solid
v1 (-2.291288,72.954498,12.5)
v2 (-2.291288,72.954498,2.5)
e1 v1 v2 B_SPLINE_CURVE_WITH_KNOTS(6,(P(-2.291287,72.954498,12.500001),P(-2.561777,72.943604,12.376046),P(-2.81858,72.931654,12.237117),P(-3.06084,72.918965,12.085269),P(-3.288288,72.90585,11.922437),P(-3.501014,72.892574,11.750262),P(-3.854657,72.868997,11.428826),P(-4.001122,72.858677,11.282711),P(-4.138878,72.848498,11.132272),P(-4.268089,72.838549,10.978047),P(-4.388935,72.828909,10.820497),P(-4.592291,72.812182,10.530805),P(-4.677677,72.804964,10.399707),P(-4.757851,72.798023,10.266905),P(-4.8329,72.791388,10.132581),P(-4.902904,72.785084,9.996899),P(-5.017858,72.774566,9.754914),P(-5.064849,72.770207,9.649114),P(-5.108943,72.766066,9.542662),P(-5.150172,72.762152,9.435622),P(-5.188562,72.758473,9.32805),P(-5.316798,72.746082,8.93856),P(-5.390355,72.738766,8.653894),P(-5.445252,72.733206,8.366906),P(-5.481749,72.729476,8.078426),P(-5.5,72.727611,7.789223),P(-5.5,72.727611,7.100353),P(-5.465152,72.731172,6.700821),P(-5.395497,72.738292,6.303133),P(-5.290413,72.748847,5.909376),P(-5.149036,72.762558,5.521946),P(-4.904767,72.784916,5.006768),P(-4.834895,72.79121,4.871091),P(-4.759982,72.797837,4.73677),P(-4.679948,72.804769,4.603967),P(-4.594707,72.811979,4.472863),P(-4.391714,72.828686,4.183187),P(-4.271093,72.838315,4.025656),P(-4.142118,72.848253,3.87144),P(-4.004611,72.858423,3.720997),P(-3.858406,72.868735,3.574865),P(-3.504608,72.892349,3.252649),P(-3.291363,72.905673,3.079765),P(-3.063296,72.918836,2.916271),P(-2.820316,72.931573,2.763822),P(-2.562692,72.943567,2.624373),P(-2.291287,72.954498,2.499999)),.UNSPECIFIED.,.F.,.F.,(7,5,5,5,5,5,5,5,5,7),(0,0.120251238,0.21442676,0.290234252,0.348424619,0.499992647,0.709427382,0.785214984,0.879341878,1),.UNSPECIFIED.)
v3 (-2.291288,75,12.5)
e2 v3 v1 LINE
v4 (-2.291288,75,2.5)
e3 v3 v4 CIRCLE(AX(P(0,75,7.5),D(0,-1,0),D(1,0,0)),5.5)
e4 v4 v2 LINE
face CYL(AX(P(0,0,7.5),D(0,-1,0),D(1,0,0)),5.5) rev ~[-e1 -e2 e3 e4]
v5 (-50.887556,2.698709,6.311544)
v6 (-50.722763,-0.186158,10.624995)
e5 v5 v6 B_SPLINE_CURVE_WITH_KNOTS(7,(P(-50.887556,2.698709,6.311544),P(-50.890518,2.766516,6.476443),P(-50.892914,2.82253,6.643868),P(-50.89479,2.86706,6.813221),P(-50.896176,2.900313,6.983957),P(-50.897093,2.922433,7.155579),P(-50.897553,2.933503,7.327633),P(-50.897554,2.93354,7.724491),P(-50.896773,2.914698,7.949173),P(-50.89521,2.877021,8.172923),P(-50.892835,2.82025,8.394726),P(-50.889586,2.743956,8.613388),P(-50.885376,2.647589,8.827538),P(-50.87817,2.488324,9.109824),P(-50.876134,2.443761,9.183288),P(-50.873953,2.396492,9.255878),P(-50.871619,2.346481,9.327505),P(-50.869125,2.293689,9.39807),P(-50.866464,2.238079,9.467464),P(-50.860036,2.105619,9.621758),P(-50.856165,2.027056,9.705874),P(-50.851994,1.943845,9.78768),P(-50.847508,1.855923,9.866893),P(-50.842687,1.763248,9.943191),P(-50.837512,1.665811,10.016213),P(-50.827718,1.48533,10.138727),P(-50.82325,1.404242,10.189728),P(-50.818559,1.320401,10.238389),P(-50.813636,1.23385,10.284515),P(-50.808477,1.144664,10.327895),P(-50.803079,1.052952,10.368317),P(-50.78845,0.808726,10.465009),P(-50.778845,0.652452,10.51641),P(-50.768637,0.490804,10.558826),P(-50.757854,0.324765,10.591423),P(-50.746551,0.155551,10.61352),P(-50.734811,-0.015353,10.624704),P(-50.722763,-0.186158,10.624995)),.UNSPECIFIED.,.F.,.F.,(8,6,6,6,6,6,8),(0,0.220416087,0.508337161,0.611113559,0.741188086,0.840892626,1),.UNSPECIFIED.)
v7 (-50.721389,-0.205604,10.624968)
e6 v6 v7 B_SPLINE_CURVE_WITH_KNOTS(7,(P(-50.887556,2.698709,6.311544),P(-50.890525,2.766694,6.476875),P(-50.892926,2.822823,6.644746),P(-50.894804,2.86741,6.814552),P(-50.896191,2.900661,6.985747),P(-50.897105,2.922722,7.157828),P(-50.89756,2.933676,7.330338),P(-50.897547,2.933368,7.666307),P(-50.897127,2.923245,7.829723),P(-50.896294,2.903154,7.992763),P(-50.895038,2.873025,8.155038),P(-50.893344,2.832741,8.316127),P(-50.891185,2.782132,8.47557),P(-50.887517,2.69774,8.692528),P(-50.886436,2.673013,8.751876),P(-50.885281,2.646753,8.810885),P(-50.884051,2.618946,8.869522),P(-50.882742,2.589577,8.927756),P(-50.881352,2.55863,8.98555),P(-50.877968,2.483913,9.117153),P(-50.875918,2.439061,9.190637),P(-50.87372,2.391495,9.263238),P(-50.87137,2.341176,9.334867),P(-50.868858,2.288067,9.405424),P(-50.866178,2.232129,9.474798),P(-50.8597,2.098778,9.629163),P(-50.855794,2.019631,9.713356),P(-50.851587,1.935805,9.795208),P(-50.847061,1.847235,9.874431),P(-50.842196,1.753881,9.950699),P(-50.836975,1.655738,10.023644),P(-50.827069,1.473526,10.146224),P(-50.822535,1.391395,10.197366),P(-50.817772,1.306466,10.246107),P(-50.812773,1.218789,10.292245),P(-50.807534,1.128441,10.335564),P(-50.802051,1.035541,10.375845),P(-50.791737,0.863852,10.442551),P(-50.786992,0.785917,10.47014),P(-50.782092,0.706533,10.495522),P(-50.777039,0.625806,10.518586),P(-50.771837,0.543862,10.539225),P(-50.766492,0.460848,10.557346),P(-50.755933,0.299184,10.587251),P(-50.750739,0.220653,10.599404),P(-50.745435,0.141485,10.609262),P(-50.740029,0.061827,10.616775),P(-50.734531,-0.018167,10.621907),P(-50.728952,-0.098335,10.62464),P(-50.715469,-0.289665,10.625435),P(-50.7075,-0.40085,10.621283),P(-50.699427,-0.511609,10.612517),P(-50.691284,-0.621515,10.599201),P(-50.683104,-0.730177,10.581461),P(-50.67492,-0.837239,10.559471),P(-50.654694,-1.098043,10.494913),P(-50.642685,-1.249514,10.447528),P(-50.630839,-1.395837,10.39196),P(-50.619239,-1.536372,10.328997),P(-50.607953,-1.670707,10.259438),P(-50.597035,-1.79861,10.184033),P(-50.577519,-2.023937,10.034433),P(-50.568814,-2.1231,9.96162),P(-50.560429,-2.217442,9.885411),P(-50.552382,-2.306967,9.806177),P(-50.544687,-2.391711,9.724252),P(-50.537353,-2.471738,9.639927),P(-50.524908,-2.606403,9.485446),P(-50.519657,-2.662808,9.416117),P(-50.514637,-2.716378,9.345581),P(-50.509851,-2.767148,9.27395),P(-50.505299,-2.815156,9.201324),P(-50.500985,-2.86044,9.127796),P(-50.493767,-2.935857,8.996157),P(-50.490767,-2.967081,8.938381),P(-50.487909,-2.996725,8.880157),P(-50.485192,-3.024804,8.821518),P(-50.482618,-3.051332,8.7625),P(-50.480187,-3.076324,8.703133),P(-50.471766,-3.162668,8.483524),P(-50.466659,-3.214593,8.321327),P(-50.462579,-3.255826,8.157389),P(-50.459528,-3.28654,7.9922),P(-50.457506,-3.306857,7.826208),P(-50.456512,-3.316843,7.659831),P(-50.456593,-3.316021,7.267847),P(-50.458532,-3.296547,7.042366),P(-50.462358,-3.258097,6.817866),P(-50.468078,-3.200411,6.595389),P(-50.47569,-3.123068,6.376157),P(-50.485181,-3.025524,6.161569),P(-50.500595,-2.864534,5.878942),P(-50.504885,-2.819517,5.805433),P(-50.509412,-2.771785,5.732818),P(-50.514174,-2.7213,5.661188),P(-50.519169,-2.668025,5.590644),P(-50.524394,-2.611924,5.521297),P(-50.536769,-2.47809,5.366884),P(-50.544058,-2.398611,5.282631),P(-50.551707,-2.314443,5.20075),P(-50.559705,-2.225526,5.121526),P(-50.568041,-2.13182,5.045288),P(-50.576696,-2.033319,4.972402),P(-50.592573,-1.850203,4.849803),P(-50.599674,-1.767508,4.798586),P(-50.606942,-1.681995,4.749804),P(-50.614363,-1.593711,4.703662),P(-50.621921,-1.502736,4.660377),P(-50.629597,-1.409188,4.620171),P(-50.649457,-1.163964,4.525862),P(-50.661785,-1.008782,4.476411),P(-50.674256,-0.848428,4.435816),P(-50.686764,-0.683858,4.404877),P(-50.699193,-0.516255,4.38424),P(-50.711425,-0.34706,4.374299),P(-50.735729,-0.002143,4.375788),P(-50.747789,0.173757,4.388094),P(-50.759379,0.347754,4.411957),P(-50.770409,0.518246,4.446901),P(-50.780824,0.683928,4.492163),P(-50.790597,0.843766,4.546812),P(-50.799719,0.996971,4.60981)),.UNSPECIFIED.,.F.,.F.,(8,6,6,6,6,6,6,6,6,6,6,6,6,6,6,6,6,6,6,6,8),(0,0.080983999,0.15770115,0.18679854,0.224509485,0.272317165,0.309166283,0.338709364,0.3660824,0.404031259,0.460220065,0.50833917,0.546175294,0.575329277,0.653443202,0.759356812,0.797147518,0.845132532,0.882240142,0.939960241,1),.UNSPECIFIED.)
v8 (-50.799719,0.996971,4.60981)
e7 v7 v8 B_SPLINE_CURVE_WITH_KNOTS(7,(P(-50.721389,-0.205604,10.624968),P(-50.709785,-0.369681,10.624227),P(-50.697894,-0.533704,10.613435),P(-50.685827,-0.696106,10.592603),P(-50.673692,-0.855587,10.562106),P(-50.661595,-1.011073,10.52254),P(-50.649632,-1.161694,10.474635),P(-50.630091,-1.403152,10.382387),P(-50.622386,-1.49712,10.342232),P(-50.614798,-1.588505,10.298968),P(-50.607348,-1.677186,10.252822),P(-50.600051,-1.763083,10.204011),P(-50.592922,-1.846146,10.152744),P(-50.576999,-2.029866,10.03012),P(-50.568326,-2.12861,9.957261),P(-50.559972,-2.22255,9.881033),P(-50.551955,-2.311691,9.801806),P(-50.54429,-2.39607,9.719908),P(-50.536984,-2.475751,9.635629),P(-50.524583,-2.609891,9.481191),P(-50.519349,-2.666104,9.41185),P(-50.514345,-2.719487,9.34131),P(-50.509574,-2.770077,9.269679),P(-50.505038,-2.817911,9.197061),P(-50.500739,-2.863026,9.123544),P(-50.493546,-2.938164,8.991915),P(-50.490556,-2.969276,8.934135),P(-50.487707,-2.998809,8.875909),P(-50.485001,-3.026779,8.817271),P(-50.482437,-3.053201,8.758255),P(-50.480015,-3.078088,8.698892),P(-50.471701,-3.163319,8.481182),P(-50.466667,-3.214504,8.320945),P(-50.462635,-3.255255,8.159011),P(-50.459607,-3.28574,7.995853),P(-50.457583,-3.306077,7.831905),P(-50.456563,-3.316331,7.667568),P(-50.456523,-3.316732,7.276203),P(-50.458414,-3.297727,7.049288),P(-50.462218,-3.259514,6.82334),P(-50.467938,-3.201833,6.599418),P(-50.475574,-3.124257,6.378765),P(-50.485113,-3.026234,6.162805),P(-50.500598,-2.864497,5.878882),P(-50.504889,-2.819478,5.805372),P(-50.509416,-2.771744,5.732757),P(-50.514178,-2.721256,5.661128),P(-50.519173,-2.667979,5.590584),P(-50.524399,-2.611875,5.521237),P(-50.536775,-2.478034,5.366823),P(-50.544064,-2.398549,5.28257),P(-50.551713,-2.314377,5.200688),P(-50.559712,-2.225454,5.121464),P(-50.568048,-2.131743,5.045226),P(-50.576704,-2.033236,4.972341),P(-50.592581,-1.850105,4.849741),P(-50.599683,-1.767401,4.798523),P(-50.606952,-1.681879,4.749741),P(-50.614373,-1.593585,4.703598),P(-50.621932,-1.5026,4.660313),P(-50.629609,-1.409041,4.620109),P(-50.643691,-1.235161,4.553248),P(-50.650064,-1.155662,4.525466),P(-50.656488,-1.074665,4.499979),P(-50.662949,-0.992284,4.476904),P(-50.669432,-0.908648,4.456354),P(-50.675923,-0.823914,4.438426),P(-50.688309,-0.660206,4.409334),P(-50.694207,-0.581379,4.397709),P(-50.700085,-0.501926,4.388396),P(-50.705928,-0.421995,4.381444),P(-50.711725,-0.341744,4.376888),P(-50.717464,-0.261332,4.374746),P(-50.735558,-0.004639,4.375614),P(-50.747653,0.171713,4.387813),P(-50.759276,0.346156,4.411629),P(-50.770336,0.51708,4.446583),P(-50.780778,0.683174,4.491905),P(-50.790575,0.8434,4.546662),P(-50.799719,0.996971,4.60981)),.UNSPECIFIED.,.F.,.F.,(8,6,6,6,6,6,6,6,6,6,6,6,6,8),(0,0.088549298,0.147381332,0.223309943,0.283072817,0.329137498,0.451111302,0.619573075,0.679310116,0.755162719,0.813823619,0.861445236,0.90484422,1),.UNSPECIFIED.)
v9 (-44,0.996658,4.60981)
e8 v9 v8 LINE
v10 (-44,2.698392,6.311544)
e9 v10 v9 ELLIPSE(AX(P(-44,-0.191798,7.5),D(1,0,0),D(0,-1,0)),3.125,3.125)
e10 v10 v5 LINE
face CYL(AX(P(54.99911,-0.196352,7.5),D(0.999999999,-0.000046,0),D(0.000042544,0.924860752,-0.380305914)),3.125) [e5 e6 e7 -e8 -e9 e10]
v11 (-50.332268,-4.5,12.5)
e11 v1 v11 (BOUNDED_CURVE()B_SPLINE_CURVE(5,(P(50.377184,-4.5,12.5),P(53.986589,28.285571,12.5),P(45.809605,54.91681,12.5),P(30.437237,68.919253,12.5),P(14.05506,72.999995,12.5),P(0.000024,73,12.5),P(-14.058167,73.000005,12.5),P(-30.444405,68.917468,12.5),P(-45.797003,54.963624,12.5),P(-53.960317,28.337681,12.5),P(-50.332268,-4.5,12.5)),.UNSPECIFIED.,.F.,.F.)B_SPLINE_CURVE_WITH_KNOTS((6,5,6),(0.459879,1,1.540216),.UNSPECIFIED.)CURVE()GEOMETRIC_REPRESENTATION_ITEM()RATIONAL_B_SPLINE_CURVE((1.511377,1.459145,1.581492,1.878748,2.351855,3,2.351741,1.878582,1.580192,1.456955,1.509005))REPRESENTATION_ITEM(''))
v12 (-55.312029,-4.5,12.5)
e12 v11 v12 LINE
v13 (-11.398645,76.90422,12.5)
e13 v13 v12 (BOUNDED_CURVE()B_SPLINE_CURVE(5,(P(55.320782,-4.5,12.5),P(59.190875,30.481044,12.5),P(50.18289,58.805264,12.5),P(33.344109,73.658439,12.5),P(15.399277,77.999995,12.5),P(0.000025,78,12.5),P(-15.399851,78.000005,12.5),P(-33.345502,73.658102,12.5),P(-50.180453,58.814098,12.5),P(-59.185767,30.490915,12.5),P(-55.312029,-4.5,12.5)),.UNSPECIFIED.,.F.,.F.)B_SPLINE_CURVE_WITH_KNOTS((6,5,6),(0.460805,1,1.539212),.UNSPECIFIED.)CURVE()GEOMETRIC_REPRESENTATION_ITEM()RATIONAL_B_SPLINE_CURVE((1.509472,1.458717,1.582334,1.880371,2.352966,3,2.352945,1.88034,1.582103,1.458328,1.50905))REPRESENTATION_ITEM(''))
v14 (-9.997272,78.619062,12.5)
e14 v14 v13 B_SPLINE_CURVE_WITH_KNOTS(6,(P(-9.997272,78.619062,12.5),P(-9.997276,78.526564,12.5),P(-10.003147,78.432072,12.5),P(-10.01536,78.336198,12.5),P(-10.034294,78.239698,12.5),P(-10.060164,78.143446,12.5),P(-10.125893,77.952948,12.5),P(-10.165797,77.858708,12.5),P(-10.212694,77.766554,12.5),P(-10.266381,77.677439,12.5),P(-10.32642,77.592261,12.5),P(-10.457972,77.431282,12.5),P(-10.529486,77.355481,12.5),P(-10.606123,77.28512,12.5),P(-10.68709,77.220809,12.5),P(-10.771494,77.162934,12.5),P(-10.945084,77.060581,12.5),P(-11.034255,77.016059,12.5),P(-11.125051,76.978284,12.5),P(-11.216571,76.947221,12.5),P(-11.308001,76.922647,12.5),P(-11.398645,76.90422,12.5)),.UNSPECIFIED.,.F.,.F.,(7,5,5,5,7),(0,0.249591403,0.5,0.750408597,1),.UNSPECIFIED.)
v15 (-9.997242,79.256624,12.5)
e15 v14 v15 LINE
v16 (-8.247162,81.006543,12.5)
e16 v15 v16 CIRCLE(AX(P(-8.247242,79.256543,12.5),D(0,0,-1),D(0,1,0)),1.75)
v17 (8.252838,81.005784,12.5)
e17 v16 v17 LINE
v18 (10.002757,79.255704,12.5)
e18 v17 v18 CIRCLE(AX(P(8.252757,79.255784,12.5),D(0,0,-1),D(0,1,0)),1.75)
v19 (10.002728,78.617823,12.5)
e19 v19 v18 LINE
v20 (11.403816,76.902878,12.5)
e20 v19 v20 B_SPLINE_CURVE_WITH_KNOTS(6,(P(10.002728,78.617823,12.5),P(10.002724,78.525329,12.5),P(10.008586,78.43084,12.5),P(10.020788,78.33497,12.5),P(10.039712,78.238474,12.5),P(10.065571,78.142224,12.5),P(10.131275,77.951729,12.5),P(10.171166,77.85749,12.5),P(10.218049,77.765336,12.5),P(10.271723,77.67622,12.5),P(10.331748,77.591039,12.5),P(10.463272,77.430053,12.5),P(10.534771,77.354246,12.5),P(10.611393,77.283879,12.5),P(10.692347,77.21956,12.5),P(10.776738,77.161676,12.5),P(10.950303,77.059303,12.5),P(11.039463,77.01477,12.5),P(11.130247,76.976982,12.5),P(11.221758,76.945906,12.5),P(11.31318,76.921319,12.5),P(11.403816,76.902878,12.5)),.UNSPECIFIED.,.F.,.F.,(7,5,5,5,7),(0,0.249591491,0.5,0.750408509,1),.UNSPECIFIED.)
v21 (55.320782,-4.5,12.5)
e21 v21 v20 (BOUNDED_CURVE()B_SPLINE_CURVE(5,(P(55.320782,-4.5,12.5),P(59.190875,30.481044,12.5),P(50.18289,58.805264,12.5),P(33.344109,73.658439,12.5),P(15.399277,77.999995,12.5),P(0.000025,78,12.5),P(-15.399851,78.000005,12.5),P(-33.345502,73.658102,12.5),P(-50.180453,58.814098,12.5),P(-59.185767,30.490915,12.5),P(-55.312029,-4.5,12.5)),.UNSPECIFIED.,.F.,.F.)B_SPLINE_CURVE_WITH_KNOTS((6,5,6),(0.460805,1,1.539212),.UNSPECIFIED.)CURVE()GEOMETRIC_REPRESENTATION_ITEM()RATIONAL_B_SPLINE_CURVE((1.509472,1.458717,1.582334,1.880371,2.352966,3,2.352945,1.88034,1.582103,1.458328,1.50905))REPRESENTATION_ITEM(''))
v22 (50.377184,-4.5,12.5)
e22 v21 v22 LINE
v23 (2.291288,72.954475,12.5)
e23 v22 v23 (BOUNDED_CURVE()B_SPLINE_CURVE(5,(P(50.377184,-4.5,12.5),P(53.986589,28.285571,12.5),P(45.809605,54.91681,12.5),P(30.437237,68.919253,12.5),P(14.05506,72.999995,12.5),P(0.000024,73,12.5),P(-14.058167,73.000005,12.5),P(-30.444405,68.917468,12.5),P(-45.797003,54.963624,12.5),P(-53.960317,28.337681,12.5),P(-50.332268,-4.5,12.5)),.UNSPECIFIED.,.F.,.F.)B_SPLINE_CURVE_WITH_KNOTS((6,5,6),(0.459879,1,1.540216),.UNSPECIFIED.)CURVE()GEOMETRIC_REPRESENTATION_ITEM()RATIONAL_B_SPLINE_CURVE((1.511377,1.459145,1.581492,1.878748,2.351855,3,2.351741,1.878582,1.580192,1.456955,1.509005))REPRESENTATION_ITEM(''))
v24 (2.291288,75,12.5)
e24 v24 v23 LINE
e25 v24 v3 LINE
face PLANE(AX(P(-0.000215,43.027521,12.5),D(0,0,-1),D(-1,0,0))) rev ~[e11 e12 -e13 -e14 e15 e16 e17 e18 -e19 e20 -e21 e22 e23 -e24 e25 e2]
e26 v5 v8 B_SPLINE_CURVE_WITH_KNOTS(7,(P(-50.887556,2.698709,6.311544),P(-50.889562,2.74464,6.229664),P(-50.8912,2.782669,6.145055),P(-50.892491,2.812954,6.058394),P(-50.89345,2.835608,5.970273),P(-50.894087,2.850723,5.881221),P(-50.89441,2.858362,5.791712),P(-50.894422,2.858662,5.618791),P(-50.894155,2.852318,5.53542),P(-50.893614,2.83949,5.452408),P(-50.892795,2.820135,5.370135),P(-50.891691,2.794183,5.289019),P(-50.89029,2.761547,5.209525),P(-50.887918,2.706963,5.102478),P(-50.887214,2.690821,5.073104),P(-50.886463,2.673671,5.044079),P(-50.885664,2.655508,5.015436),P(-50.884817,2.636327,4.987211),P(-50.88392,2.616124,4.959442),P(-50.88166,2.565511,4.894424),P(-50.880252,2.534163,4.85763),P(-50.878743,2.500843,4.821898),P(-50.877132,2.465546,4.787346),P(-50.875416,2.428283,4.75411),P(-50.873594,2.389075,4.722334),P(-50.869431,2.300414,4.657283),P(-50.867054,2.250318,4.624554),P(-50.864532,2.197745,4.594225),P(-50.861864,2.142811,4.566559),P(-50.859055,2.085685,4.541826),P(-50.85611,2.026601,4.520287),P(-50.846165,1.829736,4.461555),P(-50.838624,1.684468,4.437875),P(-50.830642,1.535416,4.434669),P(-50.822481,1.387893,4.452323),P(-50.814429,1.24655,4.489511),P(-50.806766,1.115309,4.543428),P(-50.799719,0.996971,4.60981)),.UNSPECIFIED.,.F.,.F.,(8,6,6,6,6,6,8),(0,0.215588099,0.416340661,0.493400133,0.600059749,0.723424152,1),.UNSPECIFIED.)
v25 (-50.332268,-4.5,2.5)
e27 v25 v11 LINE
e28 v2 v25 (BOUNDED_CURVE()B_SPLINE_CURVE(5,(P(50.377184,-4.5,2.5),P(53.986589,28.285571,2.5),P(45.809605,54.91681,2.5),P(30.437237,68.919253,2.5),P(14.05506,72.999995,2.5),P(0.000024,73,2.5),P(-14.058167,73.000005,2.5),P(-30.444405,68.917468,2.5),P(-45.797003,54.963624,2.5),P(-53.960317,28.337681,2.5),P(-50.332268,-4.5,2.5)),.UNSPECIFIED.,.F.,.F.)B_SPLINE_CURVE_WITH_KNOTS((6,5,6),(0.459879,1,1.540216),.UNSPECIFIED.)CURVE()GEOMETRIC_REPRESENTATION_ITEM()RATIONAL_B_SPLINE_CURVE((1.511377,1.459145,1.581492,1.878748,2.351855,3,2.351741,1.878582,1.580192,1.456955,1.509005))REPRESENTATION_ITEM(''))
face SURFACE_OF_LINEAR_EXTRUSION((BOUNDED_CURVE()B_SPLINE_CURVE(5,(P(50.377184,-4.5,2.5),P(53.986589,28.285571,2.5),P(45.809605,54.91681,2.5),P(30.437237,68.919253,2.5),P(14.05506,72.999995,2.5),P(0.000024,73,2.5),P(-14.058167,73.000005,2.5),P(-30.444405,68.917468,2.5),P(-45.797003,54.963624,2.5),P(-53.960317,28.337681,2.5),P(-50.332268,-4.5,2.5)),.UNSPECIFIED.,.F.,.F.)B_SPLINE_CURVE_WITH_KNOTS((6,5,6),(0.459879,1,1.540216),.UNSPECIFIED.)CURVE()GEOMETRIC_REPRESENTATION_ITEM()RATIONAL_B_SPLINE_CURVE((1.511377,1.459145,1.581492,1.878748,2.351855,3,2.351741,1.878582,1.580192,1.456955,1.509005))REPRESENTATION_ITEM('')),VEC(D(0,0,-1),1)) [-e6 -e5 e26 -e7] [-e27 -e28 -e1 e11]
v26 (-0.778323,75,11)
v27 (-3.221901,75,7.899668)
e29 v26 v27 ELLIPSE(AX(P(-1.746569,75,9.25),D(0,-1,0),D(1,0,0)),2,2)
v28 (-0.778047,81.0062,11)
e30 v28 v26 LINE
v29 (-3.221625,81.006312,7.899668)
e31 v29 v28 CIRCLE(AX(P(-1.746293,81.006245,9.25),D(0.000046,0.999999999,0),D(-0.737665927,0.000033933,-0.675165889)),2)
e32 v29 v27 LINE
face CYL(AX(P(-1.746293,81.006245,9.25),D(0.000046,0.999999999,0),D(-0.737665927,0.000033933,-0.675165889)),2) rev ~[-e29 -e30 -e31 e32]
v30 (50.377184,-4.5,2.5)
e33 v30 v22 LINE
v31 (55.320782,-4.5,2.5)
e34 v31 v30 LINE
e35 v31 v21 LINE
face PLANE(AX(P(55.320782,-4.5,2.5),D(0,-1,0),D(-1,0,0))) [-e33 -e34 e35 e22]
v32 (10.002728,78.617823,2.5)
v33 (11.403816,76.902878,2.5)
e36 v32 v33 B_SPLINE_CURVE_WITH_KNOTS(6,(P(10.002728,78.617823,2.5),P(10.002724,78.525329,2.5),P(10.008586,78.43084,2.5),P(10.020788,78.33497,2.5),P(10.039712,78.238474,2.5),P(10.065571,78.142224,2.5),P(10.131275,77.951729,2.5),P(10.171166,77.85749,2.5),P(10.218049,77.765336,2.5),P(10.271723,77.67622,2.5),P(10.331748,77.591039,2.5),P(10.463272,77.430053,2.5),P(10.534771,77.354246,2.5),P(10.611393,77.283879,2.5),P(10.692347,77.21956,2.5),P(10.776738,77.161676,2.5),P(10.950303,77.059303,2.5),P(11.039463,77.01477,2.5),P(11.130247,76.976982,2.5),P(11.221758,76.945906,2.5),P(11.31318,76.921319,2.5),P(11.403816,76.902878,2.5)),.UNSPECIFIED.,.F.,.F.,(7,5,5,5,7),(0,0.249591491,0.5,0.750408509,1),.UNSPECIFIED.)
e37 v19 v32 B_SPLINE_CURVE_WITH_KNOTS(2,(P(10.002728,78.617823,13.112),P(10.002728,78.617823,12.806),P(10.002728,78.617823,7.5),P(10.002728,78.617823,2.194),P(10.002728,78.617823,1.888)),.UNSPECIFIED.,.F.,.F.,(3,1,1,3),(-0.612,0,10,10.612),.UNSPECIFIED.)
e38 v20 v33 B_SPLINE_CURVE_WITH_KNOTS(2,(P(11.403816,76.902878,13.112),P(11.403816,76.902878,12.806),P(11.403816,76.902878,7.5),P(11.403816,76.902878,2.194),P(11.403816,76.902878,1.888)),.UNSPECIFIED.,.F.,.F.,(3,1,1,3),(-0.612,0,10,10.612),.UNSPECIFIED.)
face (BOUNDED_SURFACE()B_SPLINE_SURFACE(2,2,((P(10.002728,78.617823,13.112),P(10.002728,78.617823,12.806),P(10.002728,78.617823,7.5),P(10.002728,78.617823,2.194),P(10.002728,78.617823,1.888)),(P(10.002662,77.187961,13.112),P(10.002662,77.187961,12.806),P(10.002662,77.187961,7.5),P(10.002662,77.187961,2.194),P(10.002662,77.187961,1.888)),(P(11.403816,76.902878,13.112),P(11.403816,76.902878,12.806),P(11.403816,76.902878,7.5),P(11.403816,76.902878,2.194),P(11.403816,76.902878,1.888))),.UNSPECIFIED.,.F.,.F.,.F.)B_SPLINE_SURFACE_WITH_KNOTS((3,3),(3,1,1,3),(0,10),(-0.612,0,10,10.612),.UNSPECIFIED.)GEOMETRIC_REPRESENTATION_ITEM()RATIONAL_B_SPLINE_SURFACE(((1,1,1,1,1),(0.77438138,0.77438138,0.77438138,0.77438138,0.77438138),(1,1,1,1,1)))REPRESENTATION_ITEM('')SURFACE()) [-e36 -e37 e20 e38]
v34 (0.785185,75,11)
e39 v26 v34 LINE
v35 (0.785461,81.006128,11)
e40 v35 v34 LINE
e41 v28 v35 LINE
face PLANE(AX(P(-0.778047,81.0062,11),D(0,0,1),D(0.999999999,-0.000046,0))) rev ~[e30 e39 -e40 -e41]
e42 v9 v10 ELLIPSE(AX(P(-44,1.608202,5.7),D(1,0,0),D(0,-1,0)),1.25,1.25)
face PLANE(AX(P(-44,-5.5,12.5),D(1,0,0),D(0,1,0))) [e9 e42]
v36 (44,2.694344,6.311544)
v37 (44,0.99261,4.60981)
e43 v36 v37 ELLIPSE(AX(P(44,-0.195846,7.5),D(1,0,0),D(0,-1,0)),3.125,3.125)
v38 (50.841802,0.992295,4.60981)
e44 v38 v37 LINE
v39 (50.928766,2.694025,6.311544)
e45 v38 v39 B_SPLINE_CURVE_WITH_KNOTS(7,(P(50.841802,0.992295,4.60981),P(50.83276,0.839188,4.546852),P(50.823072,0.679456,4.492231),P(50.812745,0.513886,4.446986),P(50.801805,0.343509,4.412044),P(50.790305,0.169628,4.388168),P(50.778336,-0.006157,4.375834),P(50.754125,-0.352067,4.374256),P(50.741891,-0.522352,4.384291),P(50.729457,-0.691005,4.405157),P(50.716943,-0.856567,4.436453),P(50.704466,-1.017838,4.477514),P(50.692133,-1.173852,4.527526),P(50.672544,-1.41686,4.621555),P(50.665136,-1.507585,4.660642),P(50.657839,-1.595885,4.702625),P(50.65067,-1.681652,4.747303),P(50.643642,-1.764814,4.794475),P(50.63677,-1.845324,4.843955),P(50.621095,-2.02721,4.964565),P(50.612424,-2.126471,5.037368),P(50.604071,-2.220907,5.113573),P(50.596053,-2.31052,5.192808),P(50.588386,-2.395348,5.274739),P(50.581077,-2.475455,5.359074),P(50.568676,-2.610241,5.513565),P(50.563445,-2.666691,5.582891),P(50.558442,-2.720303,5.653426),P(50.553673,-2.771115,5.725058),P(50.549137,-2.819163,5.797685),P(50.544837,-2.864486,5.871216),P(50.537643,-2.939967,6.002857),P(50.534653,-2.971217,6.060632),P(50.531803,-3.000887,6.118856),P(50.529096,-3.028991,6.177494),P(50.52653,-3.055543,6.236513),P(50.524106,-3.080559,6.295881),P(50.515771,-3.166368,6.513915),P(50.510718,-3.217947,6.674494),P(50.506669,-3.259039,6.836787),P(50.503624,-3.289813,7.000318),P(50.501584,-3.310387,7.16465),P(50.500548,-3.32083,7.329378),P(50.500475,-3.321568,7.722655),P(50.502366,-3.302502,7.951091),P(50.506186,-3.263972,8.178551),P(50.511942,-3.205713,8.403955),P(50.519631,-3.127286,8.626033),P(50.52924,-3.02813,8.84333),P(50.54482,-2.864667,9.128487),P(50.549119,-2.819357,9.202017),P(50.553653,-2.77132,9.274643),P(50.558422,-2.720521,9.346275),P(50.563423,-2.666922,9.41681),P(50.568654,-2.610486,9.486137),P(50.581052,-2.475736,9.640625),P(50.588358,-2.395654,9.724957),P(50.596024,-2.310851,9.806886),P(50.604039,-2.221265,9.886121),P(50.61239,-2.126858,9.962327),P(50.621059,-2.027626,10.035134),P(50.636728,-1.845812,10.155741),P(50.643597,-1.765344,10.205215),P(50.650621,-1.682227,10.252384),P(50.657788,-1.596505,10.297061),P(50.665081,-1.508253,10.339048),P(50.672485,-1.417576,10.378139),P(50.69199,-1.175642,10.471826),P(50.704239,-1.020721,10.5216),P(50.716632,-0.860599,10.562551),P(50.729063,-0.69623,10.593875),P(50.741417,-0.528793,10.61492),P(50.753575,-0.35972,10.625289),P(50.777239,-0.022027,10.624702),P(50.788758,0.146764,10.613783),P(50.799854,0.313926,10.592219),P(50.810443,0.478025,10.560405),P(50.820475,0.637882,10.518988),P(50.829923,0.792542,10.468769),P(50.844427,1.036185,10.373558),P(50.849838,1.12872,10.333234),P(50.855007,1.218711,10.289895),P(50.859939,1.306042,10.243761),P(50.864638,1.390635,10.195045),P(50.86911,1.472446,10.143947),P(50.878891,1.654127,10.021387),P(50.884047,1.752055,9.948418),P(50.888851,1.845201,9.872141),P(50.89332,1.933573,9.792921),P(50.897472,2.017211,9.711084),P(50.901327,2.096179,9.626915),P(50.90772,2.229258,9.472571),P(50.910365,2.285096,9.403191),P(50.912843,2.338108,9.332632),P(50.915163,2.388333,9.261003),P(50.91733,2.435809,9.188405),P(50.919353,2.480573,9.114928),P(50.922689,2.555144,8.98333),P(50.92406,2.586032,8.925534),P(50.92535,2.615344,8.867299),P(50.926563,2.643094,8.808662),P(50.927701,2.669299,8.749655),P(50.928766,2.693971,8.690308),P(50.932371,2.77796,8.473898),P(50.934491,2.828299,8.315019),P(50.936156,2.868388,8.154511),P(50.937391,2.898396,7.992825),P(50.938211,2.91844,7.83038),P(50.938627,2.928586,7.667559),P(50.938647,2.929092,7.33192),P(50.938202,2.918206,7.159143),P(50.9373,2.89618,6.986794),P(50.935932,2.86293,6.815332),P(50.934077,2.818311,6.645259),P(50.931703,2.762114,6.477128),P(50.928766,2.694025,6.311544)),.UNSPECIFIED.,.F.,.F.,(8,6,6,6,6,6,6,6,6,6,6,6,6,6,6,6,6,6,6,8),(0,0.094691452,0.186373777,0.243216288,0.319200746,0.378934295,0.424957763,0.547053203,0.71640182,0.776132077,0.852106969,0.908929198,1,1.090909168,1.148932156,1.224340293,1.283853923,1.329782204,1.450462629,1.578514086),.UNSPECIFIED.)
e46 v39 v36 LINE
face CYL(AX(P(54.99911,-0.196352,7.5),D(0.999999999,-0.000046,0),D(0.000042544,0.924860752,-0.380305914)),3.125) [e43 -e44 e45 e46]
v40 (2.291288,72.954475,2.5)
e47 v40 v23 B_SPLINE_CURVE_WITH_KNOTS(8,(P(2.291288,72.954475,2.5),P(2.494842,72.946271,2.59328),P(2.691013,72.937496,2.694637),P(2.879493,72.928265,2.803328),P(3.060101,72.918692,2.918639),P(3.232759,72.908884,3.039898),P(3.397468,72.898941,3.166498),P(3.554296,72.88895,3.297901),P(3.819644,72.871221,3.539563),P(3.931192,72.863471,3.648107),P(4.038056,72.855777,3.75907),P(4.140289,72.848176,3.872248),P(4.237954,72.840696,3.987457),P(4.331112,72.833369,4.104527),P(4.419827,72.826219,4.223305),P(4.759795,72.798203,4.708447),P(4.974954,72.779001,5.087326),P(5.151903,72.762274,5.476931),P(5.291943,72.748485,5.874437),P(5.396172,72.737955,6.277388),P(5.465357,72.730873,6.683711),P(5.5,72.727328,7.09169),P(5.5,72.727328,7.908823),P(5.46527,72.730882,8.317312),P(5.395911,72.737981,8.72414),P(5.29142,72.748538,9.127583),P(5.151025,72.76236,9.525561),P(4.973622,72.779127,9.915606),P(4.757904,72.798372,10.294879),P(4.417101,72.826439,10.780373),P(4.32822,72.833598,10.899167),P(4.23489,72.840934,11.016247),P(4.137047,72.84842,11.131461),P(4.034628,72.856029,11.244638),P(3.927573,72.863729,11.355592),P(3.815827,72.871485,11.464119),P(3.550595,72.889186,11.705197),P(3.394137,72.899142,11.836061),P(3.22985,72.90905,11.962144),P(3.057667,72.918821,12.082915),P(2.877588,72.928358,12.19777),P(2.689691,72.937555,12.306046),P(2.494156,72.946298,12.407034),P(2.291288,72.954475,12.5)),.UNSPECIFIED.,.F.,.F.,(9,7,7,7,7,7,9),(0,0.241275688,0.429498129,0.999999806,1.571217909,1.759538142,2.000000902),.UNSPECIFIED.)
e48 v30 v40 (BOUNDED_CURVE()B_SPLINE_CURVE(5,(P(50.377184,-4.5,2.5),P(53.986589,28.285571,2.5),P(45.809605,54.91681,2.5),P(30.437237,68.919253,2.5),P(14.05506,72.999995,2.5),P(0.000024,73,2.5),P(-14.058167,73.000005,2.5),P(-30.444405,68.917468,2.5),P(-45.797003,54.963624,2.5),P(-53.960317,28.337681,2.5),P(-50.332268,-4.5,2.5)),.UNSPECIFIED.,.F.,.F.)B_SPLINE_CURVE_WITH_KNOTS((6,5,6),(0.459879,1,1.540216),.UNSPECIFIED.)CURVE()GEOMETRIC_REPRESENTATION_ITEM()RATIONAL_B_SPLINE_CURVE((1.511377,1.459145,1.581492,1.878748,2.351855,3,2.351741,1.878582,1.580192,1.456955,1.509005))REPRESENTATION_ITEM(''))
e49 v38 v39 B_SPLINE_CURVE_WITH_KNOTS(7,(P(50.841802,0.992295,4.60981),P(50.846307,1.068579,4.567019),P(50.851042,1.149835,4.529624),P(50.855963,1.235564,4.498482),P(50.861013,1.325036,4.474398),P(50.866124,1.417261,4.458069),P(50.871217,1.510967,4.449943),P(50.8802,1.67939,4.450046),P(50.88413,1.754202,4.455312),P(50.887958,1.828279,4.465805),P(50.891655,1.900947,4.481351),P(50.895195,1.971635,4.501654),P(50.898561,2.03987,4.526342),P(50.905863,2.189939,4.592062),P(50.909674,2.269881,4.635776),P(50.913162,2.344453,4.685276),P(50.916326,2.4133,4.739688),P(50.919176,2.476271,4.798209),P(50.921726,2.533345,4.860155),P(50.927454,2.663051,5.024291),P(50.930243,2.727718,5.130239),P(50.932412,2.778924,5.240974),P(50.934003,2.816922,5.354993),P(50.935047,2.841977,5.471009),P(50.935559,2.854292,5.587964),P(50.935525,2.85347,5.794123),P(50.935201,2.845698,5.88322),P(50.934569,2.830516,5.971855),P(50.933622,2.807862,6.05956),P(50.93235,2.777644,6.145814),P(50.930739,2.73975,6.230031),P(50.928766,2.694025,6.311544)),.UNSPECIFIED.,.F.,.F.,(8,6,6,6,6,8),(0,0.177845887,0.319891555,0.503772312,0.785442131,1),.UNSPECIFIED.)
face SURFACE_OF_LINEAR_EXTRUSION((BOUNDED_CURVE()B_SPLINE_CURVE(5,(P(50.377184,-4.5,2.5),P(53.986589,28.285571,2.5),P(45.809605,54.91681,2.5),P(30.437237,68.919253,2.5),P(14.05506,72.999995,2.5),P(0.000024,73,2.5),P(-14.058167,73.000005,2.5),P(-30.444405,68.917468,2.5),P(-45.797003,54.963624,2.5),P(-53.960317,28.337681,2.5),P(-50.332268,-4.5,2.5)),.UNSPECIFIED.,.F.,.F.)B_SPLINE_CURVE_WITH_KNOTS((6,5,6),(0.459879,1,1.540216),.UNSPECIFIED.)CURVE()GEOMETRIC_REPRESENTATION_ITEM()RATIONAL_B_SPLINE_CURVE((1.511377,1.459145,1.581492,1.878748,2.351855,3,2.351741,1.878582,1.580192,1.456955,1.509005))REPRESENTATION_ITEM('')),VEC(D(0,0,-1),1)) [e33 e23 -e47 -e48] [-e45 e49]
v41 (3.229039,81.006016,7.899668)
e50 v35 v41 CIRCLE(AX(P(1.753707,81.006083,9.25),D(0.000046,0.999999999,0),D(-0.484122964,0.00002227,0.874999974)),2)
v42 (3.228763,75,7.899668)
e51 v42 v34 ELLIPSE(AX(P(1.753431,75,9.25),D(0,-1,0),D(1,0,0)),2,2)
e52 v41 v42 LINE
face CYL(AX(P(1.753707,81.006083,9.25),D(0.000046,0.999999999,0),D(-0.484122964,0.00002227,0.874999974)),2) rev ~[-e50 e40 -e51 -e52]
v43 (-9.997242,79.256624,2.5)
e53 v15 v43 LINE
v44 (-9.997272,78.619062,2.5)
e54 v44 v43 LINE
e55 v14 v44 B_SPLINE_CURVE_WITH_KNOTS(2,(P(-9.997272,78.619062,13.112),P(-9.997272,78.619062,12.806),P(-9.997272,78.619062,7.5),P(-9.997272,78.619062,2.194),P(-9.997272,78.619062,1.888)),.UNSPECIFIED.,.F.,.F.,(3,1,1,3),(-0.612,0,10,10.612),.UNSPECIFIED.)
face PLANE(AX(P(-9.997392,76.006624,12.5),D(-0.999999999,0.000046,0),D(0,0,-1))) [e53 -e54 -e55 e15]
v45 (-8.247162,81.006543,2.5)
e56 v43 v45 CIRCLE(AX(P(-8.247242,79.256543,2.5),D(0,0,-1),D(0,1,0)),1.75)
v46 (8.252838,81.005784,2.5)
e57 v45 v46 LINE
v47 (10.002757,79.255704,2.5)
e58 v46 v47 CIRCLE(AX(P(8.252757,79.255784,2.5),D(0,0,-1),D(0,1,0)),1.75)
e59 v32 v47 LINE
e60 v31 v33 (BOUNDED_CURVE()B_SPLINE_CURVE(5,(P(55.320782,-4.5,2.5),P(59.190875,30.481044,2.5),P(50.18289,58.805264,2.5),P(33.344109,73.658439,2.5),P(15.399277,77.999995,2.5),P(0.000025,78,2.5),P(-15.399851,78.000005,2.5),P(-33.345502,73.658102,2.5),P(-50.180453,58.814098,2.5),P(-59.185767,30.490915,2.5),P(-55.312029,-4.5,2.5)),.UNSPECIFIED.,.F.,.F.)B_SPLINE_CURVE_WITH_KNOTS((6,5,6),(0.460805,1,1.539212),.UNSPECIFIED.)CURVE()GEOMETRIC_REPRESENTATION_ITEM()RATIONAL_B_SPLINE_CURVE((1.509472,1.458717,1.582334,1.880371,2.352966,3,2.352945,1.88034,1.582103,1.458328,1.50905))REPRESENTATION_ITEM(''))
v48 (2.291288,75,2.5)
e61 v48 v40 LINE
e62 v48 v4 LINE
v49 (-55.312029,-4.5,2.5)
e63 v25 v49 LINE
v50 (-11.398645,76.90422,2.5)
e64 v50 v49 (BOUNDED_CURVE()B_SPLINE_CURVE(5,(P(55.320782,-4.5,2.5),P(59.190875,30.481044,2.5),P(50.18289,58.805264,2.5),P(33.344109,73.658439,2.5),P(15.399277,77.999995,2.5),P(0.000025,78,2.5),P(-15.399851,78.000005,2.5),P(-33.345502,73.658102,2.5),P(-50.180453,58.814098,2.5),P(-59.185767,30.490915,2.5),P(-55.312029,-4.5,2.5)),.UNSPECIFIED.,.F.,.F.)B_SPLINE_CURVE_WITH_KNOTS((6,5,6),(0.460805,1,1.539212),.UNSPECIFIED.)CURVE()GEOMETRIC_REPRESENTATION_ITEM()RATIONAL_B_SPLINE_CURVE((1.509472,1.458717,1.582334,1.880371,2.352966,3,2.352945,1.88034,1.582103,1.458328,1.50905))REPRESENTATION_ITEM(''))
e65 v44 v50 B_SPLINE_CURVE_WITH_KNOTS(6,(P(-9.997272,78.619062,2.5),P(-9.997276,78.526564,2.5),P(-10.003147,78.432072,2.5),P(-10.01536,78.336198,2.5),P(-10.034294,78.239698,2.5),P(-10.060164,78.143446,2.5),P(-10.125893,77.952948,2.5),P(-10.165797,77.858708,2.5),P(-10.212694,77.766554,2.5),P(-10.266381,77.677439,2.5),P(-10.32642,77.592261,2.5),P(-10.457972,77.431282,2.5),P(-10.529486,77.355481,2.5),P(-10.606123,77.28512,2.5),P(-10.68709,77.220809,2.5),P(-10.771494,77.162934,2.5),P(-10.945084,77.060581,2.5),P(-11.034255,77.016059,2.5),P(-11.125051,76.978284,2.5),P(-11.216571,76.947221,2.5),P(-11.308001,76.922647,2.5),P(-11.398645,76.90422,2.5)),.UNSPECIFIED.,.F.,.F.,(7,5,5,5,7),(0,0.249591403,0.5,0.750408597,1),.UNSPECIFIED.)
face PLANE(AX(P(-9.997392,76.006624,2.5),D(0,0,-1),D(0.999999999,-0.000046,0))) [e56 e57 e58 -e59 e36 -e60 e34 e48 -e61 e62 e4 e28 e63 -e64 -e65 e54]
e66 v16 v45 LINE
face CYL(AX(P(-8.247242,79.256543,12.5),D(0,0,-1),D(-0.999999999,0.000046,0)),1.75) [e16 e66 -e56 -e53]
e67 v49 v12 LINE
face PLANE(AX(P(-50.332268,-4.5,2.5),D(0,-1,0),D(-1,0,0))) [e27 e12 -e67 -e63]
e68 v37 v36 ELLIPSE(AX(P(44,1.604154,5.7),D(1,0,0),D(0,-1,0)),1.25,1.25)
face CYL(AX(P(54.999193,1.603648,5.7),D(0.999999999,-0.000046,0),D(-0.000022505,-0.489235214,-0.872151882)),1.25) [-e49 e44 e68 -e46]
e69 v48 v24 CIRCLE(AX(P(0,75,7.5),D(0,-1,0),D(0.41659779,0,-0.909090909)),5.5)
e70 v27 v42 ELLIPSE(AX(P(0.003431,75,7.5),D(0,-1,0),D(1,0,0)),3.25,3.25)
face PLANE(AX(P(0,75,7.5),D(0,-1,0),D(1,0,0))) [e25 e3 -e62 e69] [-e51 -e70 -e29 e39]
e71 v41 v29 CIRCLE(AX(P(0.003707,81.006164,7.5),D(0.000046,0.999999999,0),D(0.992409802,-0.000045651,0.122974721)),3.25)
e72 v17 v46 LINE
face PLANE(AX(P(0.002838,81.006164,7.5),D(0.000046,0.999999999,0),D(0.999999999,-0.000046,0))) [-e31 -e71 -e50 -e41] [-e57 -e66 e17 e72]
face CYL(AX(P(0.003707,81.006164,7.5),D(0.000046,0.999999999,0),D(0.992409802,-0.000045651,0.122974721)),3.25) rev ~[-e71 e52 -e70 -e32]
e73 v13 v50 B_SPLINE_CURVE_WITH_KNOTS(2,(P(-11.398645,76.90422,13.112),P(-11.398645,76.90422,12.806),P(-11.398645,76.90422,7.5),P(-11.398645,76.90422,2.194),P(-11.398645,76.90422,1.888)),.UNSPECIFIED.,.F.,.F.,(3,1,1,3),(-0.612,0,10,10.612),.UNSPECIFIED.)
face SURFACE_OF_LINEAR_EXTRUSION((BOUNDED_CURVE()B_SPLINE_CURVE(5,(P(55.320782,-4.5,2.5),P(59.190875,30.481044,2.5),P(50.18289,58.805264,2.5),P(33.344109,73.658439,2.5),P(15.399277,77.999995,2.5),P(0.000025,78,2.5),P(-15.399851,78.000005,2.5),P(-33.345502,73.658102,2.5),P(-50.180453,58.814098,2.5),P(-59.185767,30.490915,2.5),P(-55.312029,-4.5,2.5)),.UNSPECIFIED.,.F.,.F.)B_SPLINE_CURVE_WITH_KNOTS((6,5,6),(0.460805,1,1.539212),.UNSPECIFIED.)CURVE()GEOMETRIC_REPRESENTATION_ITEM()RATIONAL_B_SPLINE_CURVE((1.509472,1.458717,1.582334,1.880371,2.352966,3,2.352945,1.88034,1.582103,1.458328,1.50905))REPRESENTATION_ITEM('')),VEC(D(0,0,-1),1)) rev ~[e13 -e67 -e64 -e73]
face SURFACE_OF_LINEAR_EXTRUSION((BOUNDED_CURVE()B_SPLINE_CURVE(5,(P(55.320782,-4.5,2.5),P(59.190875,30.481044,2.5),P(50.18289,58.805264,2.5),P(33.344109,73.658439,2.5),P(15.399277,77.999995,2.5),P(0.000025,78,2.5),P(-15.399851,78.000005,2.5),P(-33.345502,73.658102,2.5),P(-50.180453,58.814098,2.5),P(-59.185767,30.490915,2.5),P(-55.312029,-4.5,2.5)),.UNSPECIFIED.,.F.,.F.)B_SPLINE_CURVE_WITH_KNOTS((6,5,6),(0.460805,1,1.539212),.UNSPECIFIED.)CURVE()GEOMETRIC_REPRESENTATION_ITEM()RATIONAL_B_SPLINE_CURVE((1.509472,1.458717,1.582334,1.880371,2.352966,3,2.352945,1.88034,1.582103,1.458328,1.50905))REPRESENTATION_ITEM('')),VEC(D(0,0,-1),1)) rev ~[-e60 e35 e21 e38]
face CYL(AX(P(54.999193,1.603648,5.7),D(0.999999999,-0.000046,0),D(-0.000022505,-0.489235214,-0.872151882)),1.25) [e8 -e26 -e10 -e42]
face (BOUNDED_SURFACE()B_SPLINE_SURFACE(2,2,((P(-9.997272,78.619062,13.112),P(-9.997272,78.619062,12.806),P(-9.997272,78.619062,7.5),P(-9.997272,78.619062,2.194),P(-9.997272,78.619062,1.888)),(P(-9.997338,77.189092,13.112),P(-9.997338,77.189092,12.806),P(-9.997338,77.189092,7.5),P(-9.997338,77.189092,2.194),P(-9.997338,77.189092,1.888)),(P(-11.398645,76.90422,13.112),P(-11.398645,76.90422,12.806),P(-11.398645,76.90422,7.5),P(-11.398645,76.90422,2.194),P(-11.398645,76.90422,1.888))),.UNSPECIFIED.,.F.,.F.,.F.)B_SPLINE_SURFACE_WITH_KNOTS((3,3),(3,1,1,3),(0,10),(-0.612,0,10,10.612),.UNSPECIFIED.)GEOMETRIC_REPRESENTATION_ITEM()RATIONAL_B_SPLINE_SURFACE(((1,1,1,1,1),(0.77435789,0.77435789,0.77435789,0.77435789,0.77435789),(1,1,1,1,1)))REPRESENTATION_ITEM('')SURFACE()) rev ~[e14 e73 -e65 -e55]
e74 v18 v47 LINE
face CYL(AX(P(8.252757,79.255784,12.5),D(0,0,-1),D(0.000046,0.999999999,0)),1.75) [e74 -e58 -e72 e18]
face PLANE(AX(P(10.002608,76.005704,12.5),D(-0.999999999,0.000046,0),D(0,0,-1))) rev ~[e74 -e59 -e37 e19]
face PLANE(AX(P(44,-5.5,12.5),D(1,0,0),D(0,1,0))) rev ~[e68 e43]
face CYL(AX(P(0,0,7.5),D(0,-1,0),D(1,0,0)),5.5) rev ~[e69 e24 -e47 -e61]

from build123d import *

# Parameters (mm, degrees)
PAD005_DEPTH    = 10
SKETCH015_R     = 3.125
SKETCH015_R_2   = 1.25
PAD006_DEPTH    = 110
SKETCH016_W     = 88
SKETCH016_H     = 11
POCKET006_DEPTH = 10.001
SKETCH017_W     = 20
SKETCH017_H     = 10
PAD007_DEPTH    = 5
POCKET007_DEPTH = 85.509727
SKETCH019_R     = 5.5
POCKET008_DEPTH = 75
FILLET_R        = 1.75


with BuildPart() as part:
    # Sketch014 → Pad005 (new body)
    with BuildSketch(Plane.XY):
        with BuildLine():
            Line((55.320782, -4.5), (50.377184, -4.5))
            add(Edge.make_bspline(
                [(50.377184, -4.5), (53.986589, 28.285571), (45.809605, 54.91681), (30.437237, 68.919253), (14.05506, 72.999995), (2.4e-05, 73), (-14.058167, 73.000005), (-30.444405, 68.917468), (-45.797003, 54.963624), (-53.960317, 28.337681), (-50.332268, -4.5)],
                knots=[0.459879, 0.459879, 0.459879, 0.459879, 0.459879, 0.459879, 1, 1, 1, 1, 1, 1.540216, 1.540216, 1.540216, 1.540216, 1.540216, 1.540216], degree=5, weights=[1.511377, 1.459145, 1.581492, 1.878748, 2.351855, 3, 2.351741, 1.878582, 1.580192, 1.456955, 1.509005]))
            Line((-50.332268, -4.5), (-55.312029, -4.5))
            add(Edge.make_bspline(
                [(55.320782, -4.5), (59.190875, 30.481044), (50.18289, 58.805264), (33.344109, 73.658439), (15.399277, 77.999995), (2.5e-05, 78), (-15.399851, 78.000005), (-33.345502, 73.658102), (-50.180453, 58.814098), (-59.185767, 30.490915), (-55.312029, -4.5)],
                knots=[0.460805, 0.460805, 0.460805, 0.460805, 0.460805, 0.460805, 1, 1, 1, 1, 1, 1.539212, 1.539212, 1.539212, 1.539212, 1.539212, 1.539212], degree=5, weights=[1.509472, 1.458717, 1.582334, 1.880371, 2.352966, 3, 2.352945, 1.88034, 1.582103, 1.458328, 1.50905]))
        make_face()
    extrude(amount=PAD005_DEPTH)

    # Sketch015 (on DatumPlane) → Pad006 (join)
    with BuildSketch(Plane(origin=(55.001235, 46.003648, 5), x_dir=(0, 0, -1), z_dir=(1, -4.6e-05, 0))):
        with Locations((0, -46.2)):
            Circle(SKETCH015_R)
        with Locations((1.8, -44.4)):
            Circle(SKETCH015_R_2)
    extrude(amount=-PAD006_DEPTH)

    # Sketch016 (on Face5 of Pad006) → Pocket006 (cut, through all)
    with BuildSketch(Plane.XY.offset(10)):
        Rectangle(SKETCH016_W, SKETCH016_H)
    extrude(amount=-POCKET006_DEPTH, mode=Mode.SUBTRACT)

    # Sketch017 (on DatumPlane) → Pad007 (join)
    with BuildSketch(Plane(origin=(0.002608, 76.006164, 5), x_dir=(1, -4.6e-05, 0), z_dir=(4.6e-05, 1, 0))):
        Rectangle(SKETCH017_W, SKETCH017_H)
    extrude(amount=PAD007_DEPTH)

    # Sketch018 (on Face14 of Pad007) → Pocket007 (cut, through all)
    with BuildSketch(Plane(origin=(0.003707, 81.006164, 10), x_dir=(1, -4.6e-05, 0), z_dir=(4.6e-05, 1, 0))):
        with BuildLine():
            ThreePointArc((-3.225332, 4.600332), (-3.320764, 2.011977), (-0.781754, 1.5))
            Line((-0.781754, 1.5), (0.781754, 1.5))
            ThreePointArc((0.781754, 1.5), (3.320764, 2.011977), (3.225332, 4.600332))
            ThreePointArc((3.225332, 4.600332), (0, 8.25), (-3.225332, 4.600332))
        make_face()
    extrude(amount=-POCKET007_DEPTH, mode=Mode.SUBTRACT)

    # Sketch019 → Pocket008 (cut)
    with BuildSketch(Plane.XZ):
        with Locations((0, 5)):
            Circle(SKETCH019_R)
    extrude(amount=-POCKET008_DEPTH, mode=Mode.SUBTRACT)

    # Fillet
    fillet_edges = [part.edges().sort_by_distance(p)[0] for p in [
        (10.002837, 81.005707, 4.999997),
        (10.002661, 77.167792, 4.999997),
        (-9.997339, 77.168929, 5.000003),
        (-9.997163, 81.006622, 5.000003),
    ]]
    fillet(fillet_edges, radius=FILLET_R)


with BuildPart() as part_1:
    # Body004 placement: moved
    add(part.part.moved(Location((0, 0, 2.5))))


solid = part_1.part
